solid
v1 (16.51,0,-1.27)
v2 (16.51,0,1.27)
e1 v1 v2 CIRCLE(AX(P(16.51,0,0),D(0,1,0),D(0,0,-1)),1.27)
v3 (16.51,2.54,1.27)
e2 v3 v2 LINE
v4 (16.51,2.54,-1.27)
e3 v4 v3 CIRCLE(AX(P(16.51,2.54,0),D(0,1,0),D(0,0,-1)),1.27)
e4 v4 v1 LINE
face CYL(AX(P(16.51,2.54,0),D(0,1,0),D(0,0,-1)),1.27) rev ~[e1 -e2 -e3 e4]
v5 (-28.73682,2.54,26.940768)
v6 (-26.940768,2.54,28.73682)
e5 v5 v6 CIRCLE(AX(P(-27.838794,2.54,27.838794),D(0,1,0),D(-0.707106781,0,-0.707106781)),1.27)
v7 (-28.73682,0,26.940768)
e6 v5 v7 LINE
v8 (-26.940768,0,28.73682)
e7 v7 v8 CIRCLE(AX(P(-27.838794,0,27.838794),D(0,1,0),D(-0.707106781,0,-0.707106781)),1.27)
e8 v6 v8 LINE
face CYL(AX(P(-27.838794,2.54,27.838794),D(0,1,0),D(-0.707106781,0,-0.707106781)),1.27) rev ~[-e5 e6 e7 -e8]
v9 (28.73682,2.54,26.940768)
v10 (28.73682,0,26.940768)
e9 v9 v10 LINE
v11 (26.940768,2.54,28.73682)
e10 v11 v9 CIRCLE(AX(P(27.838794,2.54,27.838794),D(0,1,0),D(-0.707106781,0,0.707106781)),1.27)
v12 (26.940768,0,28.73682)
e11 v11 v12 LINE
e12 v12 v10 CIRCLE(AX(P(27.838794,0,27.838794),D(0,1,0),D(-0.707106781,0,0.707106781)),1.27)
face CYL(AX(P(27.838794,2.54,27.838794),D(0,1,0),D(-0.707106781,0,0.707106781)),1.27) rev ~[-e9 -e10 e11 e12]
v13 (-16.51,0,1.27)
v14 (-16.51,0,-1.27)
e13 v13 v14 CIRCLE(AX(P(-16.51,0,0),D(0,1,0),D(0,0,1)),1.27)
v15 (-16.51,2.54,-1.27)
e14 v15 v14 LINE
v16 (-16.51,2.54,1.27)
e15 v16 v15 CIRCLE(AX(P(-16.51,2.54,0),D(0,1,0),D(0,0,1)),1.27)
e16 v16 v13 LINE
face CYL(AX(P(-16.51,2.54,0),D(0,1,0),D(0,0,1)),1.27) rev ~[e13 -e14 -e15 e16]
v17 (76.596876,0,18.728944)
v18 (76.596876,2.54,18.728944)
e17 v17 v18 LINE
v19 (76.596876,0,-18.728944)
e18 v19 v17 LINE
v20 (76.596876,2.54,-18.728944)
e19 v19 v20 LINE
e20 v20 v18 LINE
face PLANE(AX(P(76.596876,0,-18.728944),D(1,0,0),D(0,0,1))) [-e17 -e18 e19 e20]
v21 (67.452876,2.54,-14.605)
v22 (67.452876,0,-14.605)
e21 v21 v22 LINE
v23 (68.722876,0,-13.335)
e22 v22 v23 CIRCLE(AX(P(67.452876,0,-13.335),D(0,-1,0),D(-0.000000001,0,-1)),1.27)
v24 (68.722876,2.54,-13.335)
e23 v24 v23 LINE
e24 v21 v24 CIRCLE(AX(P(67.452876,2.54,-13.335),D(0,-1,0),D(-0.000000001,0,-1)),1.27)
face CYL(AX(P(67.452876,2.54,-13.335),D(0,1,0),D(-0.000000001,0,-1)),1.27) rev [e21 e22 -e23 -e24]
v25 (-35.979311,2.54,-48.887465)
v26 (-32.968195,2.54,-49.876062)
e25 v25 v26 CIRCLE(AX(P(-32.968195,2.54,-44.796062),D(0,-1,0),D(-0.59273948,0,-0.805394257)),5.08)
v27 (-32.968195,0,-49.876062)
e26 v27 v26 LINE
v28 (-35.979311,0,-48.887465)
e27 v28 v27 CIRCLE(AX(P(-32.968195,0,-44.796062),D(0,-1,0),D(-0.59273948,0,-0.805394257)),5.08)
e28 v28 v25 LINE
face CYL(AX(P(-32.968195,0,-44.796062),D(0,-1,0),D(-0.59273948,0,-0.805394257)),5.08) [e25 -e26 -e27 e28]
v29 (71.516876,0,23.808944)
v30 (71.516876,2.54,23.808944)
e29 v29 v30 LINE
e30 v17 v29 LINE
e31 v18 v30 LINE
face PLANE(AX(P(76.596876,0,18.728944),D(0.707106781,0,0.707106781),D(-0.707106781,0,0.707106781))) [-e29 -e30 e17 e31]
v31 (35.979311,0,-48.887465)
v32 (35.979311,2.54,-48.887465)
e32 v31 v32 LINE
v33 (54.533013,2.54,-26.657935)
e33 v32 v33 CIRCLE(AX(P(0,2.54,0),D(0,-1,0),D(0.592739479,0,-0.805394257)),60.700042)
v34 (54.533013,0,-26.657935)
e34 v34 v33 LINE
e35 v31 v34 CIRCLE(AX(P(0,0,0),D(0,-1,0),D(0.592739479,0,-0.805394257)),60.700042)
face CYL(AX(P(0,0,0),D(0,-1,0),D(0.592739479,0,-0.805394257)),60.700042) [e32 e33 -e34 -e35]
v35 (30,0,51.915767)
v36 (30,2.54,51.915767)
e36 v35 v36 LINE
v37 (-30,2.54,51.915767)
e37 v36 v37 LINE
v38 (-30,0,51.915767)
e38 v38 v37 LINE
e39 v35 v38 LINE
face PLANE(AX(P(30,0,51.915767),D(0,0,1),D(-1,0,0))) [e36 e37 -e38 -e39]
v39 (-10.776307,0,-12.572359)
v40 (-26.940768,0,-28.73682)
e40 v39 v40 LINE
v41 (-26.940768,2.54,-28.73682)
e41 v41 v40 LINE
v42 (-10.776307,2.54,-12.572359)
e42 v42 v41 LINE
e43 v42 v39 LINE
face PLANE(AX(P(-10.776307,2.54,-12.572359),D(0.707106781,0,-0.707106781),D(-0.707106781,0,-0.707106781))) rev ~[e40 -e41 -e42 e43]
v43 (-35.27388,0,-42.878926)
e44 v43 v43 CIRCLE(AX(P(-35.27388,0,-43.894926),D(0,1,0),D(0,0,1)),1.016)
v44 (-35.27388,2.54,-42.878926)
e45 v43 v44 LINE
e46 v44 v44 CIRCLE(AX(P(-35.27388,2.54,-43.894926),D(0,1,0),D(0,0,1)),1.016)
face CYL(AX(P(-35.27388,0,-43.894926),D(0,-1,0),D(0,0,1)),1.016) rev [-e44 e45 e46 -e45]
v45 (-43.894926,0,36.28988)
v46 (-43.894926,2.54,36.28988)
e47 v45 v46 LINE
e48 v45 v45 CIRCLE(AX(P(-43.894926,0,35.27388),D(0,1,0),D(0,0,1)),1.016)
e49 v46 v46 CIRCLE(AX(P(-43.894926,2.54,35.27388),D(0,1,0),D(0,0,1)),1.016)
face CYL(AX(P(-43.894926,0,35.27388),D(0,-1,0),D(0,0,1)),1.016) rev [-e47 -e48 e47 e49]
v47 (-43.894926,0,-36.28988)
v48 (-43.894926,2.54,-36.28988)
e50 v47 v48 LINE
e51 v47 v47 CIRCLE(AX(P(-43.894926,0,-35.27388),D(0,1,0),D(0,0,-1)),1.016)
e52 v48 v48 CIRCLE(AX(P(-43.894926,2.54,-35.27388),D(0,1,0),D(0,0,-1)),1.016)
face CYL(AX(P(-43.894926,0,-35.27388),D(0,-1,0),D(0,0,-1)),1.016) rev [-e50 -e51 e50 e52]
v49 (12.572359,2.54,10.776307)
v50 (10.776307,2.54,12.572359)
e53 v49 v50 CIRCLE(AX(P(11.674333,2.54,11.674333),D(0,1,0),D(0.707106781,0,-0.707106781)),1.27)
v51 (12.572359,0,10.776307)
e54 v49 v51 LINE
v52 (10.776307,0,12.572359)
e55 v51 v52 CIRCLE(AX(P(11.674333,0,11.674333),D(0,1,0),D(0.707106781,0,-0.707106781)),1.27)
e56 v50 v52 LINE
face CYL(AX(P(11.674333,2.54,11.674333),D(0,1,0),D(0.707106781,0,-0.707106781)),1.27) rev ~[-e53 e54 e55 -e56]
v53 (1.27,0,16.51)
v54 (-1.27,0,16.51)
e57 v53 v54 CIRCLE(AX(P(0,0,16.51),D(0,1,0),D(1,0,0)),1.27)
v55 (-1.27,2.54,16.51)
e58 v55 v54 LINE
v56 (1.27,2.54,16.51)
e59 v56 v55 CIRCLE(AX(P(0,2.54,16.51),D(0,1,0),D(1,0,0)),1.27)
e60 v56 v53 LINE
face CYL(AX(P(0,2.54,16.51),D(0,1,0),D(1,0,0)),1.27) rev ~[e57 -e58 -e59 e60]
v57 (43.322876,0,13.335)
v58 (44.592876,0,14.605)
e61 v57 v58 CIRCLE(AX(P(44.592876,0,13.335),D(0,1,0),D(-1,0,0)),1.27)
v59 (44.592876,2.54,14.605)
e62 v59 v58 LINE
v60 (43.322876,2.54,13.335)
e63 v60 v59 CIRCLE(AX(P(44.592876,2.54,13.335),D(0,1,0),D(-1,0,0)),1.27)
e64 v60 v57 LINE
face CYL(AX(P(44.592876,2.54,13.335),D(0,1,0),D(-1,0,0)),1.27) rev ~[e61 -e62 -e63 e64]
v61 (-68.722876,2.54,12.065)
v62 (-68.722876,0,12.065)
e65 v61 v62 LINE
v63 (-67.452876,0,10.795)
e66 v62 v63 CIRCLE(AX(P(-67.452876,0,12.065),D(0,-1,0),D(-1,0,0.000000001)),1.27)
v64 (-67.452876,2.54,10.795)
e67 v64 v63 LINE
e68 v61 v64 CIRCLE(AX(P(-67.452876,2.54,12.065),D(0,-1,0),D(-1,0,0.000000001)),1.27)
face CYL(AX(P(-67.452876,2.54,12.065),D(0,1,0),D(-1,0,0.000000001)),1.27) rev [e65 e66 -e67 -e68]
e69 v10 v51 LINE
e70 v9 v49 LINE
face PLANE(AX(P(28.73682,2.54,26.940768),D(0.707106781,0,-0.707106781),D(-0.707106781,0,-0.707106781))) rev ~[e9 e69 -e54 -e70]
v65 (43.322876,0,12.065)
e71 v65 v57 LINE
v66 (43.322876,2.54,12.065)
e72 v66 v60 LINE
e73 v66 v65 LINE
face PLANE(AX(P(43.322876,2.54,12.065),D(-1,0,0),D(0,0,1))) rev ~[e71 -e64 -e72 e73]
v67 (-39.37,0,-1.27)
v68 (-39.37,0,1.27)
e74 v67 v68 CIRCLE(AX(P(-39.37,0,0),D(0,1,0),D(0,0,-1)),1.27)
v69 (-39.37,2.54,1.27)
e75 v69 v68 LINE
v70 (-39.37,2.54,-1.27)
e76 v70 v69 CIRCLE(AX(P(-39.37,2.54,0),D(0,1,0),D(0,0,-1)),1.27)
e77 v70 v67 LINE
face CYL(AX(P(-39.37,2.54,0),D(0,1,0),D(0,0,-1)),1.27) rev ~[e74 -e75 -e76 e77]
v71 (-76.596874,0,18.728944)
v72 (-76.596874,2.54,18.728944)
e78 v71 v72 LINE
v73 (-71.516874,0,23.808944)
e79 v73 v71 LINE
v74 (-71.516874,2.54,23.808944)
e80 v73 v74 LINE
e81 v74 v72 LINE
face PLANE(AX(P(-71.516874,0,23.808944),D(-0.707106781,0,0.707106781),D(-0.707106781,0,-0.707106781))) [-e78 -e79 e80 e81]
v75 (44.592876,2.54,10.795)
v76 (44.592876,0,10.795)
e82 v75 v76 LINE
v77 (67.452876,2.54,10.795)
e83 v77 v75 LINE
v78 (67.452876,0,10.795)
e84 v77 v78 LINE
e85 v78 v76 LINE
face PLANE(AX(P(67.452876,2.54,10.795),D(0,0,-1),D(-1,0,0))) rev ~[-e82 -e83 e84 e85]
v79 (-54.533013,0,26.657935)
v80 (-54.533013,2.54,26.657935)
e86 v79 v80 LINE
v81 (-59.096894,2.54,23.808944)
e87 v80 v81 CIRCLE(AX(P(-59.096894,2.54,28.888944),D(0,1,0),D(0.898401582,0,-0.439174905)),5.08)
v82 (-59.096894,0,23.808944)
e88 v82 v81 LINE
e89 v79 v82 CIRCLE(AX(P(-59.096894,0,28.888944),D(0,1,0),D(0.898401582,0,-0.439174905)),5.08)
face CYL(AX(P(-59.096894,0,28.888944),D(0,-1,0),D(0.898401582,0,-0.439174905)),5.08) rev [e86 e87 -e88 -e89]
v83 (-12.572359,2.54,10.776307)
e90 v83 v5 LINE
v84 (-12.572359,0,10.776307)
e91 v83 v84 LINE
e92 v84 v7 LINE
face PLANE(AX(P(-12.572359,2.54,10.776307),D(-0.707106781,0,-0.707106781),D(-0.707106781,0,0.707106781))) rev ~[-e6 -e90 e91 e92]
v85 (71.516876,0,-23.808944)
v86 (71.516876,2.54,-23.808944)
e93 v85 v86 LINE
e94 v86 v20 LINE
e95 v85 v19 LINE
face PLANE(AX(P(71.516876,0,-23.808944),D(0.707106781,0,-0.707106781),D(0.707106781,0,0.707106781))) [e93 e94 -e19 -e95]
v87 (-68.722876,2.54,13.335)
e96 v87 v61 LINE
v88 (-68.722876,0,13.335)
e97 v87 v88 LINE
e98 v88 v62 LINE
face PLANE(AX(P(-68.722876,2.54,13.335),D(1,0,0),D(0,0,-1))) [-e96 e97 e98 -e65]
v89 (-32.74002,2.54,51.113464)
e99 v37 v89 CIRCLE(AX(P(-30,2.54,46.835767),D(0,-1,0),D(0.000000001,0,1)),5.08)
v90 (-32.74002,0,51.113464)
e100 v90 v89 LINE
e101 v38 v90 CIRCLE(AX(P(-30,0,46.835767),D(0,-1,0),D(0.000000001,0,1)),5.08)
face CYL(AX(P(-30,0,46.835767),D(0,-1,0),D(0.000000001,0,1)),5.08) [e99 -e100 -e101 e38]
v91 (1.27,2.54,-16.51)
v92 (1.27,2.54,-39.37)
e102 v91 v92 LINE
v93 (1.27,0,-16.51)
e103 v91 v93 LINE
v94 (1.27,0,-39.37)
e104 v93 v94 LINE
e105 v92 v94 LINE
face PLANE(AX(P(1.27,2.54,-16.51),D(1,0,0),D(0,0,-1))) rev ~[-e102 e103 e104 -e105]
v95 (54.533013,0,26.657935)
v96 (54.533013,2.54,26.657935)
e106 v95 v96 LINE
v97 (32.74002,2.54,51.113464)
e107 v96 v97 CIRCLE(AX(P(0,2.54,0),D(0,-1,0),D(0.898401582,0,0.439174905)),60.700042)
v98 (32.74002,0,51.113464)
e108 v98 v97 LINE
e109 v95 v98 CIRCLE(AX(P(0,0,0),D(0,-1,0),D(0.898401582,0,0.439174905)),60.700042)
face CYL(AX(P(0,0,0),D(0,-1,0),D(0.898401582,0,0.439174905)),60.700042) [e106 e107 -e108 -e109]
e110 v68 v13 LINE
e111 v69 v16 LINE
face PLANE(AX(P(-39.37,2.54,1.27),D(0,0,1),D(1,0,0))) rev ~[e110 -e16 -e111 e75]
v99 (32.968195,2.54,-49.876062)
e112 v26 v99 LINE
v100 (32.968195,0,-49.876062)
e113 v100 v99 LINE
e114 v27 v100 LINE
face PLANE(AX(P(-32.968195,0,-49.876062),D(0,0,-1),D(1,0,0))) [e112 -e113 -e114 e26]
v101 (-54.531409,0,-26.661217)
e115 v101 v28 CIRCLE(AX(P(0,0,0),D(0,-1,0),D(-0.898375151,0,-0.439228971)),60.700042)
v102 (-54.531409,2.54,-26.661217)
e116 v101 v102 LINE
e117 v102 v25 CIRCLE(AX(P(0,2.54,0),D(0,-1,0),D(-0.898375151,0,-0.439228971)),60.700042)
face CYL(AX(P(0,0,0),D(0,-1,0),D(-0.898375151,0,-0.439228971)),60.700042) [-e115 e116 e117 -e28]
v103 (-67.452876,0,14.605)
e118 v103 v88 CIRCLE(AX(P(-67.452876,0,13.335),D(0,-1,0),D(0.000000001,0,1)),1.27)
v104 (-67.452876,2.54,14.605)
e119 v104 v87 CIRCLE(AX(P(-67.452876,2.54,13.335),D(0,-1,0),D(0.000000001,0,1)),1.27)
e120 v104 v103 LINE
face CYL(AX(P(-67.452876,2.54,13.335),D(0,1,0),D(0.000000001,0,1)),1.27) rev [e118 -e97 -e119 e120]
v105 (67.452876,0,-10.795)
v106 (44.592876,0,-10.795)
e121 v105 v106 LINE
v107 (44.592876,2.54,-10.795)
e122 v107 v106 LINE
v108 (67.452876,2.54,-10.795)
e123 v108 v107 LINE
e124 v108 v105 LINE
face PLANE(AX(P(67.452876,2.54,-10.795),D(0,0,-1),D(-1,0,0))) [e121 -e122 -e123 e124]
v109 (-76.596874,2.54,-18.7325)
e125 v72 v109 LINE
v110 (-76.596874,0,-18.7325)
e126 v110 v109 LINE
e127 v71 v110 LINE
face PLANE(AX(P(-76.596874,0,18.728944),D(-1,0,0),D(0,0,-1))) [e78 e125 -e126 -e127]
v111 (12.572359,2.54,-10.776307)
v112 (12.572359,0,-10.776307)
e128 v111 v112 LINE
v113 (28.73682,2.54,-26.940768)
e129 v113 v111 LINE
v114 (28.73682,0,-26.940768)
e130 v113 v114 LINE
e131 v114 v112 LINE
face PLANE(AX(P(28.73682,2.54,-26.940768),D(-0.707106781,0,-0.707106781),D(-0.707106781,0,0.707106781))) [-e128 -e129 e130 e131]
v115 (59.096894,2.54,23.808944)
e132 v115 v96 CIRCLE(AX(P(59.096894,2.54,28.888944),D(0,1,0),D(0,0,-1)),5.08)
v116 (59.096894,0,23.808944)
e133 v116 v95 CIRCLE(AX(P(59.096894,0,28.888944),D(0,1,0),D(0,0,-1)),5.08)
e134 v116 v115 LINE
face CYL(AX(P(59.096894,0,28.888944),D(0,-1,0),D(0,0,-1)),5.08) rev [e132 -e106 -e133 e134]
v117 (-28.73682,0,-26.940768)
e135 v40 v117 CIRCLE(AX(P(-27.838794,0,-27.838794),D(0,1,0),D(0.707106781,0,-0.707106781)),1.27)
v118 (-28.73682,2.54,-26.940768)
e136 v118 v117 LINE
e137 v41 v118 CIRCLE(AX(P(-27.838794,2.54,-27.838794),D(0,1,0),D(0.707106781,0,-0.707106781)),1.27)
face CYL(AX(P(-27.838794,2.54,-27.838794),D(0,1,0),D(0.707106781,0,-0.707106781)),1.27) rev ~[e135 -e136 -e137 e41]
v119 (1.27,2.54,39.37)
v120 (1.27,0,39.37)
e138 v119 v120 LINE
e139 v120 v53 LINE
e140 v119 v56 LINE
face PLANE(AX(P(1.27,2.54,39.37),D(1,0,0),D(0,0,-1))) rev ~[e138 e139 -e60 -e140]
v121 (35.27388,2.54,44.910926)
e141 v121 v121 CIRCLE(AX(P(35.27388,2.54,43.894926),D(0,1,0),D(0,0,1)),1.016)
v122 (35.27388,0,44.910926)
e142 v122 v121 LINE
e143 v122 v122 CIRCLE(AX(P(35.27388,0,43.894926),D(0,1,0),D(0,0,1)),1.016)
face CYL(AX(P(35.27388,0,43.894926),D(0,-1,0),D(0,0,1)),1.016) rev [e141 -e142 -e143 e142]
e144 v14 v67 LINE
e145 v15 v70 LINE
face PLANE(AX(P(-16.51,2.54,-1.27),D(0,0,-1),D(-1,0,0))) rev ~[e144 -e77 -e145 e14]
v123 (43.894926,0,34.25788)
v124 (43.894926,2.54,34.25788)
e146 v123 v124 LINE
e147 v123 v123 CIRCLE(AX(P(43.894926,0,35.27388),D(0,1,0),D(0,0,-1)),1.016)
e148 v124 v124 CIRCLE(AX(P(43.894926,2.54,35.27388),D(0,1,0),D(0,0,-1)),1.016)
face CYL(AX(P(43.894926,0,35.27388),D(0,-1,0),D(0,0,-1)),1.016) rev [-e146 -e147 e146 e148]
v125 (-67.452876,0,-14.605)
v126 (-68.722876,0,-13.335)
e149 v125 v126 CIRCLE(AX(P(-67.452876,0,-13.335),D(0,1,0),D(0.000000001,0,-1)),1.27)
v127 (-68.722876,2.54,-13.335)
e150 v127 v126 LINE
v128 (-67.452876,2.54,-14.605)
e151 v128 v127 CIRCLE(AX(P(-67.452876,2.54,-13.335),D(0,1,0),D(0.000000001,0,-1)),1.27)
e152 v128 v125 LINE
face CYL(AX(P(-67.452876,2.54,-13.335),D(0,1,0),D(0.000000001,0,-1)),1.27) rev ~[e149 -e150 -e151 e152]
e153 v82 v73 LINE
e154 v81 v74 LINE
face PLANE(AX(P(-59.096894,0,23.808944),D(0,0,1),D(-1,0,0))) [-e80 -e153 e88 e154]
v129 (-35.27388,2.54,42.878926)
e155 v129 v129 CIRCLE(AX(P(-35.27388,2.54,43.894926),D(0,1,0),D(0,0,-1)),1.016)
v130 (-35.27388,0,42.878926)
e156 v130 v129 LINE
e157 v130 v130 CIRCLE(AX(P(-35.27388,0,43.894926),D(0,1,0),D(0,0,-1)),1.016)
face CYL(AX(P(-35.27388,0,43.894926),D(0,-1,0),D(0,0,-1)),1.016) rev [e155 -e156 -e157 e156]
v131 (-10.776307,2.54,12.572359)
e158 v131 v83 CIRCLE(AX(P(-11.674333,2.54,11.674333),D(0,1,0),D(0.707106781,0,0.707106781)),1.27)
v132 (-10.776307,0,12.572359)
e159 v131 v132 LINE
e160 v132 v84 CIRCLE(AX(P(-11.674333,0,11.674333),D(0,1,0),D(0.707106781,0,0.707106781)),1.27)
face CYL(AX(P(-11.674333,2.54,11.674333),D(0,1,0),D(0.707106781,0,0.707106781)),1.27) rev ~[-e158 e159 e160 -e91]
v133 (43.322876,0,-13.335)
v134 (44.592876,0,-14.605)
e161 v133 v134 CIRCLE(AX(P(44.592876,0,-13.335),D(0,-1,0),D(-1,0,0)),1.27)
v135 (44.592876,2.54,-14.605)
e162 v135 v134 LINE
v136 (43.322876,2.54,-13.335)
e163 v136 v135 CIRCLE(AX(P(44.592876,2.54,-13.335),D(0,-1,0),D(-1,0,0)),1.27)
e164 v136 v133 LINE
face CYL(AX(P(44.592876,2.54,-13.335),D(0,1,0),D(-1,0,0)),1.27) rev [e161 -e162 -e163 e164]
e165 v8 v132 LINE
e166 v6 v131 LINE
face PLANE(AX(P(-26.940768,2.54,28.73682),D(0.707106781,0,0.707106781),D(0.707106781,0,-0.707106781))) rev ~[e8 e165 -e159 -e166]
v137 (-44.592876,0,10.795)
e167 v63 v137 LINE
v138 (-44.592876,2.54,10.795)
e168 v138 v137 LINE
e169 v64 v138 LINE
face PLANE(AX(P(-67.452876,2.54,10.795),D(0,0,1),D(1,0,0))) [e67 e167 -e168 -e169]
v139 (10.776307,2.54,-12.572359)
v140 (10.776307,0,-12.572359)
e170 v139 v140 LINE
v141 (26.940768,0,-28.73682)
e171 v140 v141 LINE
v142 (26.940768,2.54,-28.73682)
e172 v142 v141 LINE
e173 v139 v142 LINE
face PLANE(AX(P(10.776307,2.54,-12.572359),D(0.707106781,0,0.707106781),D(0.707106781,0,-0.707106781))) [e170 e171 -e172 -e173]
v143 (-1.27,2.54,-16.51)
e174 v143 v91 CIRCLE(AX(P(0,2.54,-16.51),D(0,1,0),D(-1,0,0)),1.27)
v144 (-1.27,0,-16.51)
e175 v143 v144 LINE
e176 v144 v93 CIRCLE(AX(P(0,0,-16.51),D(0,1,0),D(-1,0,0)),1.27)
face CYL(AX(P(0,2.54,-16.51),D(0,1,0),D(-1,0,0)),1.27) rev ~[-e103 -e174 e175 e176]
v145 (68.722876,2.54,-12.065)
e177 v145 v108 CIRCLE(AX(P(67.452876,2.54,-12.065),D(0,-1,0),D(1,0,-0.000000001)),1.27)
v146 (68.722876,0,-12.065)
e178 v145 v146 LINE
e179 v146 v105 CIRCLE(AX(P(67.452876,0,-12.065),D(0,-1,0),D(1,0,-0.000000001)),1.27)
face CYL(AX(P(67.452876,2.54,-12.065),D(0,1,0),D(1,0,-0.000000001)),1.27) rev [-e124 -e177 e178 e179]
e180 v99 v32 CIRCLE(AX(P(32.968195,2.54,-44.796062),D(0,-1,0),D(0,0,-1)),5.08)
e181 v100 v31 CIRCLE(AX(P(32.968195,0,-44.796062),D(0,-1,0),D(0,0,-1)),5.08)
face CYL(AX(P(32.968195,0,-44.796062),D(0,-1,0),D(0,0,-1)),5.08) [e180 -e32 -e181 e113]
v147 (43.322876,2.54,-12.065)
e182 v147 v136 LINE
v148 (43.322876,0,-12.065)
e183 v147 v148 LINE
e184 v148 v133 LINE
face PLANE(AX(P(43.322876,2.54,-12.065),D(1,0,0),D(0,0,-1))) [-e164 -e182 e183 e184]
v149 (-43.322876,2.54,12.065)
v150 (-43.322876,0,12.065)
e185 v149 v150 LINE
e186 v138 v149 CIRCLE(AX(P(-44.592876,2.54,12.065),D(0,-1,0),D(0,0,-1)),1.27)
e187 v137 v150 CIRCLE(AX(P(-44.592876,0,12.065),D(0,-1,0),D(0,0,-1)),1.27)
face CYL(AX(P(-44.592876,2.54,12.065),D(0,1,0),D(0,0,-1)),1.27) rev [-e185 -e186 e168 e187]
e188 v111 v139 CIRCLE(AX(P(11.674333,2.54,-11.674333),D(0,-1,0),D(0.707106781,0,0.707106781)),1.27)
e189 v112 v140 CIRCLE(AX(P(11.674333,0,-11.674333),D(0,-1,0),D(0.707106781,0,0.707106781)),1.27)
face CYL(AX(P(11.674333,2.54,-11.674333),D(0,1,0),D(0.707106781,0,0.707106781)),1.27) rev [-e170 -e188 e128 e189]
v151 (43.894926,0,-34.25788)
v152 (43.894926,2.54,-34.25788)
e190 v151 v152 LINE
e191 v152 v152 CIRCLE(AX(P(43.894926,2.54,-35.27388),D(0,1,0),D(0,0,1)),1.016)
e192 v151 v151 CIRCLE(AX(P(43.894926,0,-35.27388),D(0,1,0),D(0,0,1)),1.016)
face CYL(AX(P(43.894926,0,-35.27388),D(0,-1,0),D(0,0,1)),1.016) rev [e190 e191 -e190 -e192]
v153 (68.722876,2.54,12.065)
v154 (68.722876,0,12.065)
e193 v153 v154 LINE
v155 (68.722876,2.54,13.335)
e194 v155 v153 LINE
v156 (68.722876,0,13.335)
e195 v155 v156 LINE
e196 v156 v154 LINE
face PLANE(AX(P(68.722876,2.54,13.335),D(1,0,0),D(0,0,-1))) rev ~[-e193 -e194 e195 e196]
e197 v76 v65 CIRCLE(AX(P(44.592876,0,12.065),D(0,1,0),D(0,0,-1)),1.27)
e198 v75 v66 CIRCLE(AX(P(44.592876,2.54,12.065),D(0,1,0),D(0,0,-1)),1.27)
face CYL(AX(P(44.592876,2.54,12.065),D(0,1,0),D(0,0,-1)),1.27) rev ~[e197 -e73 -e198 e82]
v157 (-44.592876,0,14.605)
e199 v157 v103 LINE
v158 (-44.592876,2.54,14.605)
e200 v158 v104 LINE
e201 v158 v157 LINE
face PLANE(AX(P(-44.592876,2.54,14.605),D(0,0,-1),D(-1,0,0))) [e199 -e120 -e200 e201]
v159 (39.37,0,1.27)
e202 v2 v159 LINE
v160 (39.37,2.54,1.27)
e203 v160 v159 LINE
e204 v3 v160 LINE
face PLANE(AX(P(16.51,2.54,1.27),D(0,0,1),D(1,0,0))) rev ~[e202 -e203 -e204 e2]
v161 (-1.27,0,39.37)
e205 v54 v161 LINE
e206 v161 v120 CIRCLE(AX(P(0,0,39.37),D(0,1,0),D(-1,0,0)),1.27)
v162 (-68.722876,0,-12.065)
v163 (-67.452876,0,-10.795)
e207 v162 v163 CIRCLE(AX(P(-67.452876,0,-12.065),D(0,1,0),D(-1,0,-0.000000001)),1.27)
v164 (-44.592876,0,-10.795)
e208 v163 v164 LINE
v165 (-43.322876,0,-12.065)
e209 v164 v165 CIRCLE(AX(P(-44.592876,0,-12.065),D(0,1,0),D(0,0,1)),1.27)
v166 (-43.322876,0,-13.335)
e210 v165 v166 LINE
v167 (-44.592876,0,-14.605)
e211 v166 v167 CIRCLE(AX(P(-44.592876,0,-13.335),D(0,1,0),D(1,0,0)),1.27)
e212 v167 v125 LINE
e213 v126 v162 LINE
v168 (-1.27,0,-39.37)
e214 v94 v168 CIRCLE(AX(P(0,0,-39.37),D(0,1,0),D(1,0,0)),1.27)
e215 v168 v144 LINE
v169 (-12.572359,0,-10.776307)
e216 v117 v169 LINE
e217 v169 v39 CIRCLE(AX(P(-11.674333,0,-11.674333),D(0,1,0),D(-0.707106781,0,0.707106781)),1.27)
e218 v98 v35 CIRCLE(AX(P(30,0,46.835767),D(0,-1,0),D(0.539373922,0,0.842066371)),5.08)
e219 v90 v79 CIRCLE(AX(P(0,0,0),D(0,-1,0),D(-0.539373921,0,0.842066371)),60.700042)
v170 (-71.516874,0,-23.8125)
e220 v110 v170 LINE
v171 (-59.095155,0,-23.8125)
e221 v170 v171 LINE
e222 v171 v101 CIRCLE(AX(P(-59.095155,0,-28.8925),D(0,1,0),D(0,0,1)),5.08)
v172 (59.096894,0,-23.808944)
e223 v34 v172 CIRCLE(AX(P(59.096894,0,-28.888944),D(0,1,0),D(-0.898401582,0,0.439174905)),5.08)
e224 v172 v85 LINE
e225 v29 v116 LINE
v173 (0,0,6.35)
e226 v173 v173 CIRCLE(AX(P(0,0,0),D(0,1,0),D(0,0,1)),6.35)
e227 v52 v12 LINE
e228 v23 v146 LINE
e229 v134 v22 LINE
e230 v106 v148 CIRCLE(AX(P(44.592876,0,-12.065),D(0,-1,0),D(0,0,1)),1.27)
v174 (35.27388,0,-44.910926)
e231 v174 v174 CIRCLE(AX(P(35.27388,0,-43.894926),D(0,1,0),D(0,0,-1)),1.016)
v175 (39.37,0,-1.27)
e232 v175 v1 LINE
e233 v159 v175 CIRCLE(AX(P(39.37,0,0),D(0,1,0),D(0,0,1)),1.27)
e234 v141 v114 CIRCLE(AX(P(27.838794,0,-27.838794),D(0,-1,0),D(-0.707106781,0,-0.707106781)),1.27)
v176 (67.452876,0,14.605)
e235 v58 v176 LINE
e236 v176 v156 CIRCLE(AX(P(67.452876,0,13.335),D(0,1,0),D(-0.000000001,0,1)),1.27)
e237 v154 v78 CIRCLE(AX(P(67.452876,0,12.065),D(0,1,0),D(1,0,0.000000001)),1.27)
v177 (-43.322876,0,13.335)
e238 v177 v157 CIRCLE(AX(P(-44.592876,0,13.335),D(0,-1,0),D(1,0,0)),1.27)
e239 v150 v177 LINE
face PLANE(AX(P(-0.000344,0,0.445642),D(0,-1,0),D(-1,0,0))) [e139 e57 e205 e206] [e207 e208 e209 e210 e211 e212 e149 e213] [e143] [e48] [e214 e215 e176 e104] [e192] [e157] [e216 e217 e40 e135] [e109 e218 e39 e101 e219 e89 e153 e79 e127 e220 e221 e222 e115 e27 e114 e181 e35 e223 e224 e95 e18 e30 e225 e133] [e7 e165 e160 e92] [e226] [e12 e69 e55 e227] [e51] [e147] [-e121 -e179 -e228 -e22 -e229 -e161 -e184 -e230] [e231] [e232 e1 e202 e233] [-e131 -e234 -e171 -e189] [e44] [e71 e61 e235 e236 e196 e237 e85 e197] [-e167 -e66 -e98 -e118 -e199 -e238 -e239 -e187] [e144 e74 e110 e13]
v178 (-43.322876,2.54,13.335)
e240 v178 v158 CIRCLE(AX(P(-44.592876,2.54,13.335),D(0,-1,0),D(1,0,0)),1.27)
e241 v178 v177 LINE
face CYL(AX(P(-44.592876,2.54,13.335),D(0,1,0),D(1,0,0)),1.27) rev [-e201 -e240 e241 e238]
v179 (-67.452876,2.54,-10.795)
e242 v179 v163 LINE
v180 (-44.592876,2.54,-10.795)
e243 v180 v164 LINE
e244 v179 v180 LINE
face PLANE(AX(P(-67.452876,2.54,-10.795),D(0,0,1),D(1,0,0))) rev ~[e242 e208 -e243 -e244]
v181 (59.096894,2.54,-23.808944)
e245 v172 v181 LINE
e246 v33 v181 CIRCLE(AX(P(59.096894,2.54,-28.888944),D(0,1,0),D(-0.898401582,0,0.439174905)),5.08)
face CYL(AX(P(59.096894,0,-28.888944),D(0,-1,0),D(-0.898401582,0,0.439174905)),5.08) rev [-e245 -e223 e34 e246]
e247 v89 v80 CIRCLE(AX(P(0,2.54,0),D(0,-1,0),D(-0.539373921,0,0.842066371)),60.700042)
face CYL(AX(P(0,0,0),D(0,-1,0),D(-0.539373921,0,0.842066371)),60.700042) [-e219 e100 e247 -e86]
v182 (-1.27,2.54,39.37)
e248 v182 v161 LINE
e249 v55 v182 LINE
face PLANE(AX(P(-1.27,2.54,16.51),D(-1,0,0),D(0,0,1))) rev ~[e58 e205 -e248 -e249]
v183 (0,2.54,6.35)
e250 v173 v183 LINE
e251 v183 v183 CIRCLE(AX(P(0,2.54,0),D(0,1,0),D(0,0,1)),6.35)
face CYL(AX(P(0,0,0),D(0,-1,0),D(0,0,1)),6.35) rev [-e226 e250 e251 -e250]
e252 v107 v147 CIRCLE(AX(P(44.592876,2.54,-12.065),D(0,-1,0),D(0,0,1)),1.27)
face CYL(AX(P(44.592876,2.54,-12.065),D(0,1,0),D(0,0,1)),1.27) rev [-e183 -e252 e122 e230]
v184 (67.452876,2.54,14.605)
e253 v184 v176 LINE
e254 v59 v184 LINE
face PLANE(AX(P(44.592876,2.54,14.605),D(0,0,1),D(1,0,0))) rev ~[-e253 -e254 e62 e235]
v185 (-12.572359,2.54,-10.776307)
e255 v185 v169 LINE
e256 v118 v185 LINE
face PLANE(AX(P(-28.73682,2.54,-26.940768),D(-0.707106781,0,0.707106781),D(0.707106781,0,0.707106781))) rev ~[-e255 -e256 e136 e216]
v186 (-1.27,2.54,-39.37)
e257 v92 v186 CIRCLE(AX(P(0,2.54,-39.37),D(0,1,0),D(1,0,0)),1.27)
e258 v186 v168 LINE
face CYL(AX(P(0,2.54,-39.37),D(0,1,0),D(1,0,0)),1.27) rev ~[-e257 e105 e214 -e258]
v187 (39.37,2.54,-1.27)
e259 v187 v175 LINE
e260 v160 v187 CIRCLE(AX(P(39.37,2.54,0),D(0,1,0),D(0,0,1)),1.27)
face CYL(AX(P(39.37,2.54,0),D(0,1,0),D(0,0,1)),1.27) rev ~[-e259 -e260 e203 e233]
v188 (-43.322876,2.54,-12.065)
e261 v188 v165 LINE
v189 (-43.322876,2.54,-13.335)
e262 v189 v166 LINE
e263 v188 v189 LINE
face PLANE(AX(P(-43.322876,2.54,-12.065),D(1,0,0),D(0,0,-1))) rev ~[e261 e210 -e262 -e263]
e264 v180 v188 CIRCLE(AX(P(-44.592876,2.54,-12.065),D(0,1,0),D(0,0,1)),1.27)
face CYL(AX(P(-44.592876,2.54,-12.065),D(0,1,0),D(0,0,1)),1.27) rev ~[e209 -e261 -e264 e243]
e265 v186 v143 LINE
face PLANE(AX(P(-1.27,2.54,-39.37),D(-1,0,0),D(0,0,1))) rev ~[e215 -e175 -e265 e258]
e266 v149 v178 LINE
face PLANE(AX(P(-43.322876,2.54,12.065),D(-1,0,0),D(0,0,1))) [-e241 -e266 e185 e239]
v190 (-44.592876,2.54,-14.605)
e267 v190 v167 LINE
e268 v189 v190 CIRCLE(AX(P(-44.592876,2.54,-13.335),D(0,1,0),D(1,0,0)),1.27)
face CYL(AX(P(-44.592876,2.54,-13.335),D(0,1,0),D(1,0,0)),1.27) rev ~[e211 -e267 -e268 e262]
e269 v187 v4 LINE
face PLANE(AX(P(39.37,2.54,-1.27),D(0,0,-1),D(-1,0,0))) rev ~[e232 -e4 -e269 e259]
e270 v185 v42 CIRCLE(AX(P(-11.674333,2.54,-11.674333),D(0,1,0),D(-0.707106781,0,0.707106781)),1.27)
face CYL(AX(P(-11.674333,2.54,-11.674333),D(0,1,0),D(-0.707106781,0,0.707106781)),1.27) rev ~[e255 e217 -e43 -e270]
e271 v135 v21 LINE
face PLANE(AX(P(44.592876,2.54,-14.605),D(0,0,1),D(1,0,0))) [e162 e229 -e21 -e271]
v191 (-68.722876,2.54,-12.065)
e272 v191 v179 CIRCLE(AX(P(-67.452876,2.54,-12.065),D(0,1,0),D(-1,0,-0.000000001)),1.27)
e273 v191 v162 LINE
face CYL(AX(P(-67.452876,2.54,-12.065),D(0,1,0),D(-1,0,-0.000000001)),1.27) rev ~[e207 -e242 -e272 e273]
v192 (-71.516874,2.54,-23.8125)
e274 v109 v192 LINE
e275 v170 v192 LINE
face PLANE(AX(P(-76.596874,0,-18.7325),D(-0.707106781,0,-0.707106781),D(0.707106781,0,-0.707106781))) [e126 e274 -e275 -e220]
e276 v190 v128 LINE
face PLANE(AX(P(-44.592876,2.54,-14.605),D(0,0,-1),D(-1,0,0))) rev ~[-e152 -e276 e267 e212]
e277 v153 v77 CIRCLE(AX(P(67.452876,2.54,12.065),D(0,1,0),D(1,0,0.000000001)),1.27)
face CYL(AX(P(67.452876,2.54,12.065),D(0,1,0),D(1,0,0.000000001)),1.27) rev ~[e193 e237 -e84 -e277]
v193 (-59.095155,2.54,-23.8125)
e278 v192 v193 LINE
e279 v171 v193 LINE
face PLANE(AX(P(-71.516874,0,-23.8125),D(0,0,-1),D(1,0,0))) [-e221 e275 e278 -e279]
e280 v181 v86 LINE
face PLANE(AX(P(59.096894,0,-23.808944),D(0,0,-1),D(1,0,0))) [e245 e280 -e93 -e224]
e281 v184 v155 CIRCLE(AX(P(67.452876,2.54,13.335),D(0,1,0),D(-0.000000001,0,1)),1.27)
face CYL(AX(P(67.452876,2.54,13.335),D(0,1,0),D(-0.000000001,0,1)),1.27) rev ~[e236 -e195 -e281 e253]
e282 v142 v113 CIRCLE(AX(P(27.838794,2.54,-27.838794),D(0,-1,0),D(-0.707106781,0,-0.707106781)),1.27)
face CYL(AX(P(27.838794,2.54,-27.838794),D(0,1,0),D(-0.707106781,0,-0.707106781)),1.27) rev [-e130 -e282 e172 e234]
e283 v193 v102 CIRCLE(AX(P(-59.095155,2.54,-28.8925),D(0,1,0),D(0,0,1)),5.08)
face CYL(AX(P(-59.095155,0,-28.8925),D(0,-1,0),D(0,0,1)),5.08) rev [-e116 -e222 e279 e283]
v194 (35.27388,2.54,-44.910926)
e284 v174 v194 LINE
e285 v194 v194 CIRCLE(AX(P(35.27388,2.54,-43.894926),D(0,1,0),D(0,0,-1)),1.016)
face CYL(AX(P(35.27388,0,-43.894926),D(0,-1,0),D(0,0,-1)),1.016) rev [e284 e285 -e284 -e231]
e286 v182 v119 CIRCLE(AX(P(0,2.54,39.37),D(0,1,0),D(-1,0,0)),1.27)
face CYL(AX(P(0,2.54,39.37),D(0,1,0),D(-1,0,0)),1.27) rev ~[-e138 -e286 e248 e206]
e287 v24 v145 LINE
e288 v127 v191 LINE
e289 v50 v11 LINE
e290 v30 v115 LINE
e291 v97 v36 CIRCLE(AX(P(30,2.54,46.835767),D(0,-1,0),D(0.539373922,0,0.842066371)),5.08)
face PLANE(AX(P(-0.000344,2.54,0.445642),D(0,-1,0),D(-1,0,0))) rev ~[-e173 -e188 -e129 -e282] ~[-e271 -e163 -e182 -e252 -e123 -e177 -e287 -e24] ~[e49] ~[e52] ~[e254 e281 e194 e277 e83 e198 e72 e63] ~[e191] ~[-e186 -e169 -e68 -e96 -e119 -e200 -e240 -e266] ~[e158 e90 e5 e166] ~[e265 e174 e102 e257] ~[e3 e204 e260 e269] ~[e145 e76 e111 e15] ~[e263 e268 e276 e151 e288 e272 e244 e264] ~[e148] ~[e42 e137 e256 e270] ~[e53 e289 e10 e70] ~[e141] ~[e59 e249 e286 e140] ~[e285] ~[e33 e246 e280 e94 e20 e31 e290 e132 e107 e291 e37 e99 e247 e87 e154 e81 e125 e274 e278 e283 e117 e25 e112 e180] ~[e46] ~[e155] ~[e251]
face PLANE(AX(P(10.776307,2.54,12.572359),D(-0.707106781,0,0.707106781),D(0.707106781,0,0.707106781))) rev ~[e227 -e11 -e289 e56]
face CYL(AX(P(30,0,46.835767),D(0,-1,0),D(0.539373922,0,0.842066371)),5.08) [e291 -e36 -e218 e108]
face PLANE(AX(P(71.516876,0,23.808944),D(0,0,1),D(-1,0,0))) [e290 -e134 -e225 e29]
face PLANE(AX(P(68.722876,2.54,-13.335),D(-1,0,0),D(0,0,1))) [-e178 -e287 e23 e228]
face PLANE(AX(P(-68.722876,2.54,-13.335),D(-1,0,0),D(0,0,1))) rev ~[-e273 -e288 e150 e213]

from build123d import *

# Parameters (mm, degrees)
SKETCH1_R           = 6.35
SKETCH1_R_2         = 1.016
SKETCH1_R_3         = 0.080960071
SKETCH1_R_4         = 0.080960069
SKETCH1_R_5         = 0.080960077
BOSS_EXTRUDE1_DEPTH = 2.54
CUT_EXTRUDE1_DEPTH  = 2.54
CUT_EXTRUDE2_DEPTH  = 2.54


with BuildPart() as part:
    # Sketch1 → Boss-Extrude1 (new body)
    with BuildSketch(Plane(origin=(0, 0, 0), x_dir=(1, 0, 0), z_dir=(0, 1, 0))):
        with BuildLine():
            Line((-32.968194559, 49.876062167), (32.968194559, 49.876062167))
            ThreePointArc((32.968194559, 49.876062167), (34.552819694, 49.622589198), (35.979311114, 48.887464993))
            ThreePointArc((35.979311114, 48.887464993), (46.601053925, 38.895203237), (54.533013494, 26.657935048))
            ThreePointArc((54.533013494, 26.657935048), (56.406830639, 24.579655731), (59.096893531, 23.808943565))
            Line((59.096893531, 23.808943565), (71.51687593, 23.808943565))
            Line((71.51687593, 23.808943565), (76.59687593, 18.728943565))
            Line((76.59687593, 18.728943565), (76.59687593, -18.728943565))
            Line((76.59687593, -18.728943565), (71.51687593, -23.808943565))
            Line((71.51687593, -23.808943565), (59.096893531, -23.808943565))
            ThreePointArc((59.096893531, -23.808943565), (56.406830639, -24.579655731), (54.533013494, -26.657935048))
            ThreePointArc((54.533013494, -26.657935048), (45.317367474, -40.383551936), (32.740019521, -51.113463818))
            ThreePointArc((32.740019521, -51.113463818), (31.427532558, -51.711066727), (30, -51.915766654))
            Line((30, -51.915766654), (-30, -51.915766654))
            ThreePointArc((-30, -51.915766654), (-31.427532558, -51.711066727), (-32.740019521, -51.113463818))
            ThreePointArc((-32.740019521, -51.113463818), (-45.317367474, -40.383551936), (-54.533013494, -26.657935048))
            ThreePointArc((-54.533013494, -26.657935048), (-56.406830639, -24.579655731), (-59.096893531, -23.808943565))
            Line((-59.096893531, -23.808943565), (-71.51687407, -23.808943565))
            Line((-71.51687407, -23.808943565), (-76.59687407, -18.728943565))
            Line((-76.59687407, -18.728943565), (-76.59687407, 18.7325))
            Line((-76.59687407, 18.7325), (-71.51687407, 23.8125))
            Line((-71.51687407, 23.8125), (-59.09515487, 23.8125))
            ThreePointArc((-59.09515487, 23.8125), (-56.405221646, 24.583131223), (-54.531409104, 26.661216829))
            ThreePointArc((-54.531409104, 26.661216829), (-46.599883535, 38.896605459), (-35.979311114, 48.887464993))
            ThreePointArc((-35.979311114, 48.887464993), (-34.552819694, 49.622589198), (-32.968194559, 49.876062167))
        make_face()
        with Locations(Location((0, 0, 0), (0, 0, 270))):
            Circle(SKETCH1_R, mode=Mode.SUBTRACT)
        with Locations(Location((43.894926132, 35.273880181, 0), (0, 0, 270))):
            Circle(SKETCH1_R_2, mode=Mode.SUBTRACT)
        with Locations(Location((35.273880264, 43.894926065, 0), (0, 0, 90))):
            Circle(SKETCH1_R_2, mode=Mode.SUBTRACT)
        with Locations(Location((26.694927502, 26.694927451, 0), (0, 0, 270))):
            Circle(SKETCH1_R_3, mode=Mode.SUBTRACT)
        with Locations(Location((26.694927534, -26.694927601, 0), (0, 0, 270))):
            Circle(SKETCH1_R_3, mode=Mode.SUBTRACT)
        with Locations(Location((43.894926149, -35.273880364, 0), (0, 0, 90))):
            Circle(SKETCH1_R_2, mode=Mode.SUBTRACT)
        with Locations(Location((35.273880264, -43.894926232, 0), (0, 0, 270))):
            Circle(SKETCH1_R_2, mode=Mode.SUBTRACT)
        with Locations(Location((-26.694927518, -26.694927634, 0), (0, 0, 270))):
            Circle(SKETCH1_R_4, mode=Mode.SUBTRACT)
        with Locations(Location((-35.27388028, -43.894926248, 0), (0, 0, 90))):
            Circle(SKETCH1_R_2, mode=Mode.SUBTRACT)
        with Locations(Location((-43.894926149, -35.273880364, 0), (0, 0, 270))):
            Circle(SKETCH1_R_2, mode=Mode.SUBTRACT)
        with Locations(Location((-26.694927551, 26.694927419, 0), (0, 0, 270))):
            Circle(SKETCH1_R_5, mode=Mode.SUBTRACT)
        with Locations(Location((-43.894926165, 35.273880181, 0), (0, 0, 90))):
            Circle(SKETCH1_R_2, mode=Mode.SUBTRACT)
        with Locations(Location((-35.27388028, 43.894926049, 0), (0, 0, 270))):
            Circle(SKETCH1_R_2, mode=Mode.SUBTRACT)
    extrude(amount=BOSS_EXTRUDE1_DEPTH)

    # Sketch3 → Cut-Extrude1 (cut)
    with BuildSketch(Plane(origin=(0, 2.54, 0), x_dir=(1, 0, 0), z_dir=(0, 1, 0))):
        with BuildLine():
            Line((10.776307345, 12.572358569), (26.940768363, 28.736819587))
            ThreePointArc((26.940768363, 28.736819587), (28.736819587, 28.736819587), (28.736819587, 26.940768363))
            Line((28.736819587, 26.940768363), (12.572358569, 10.776307345))
            ThreePointArc((12.572358569, 10.776307345), (10.776307345, 10.776307345), (10.776307345, 12.572358569))
        make_face()
        with BuildLine():
            Line((16.51, -1.27), (39.37, -1.27))
            ThreePointArc((39.37, -1.27), (40.64, 0), (39.37, 1.27))
            Line((39.37, 1.27), (16.51, 1.27))
            ThreePointArc((16.51, 1.27), (15.24, 0), (16.51, -1.27))
        make_face()
        with BuildLine():
            Line((10.776307345, -12.572358569), (26.940768363, -28.736819587))
            ThreePointArc((26.940768363, -28.736819587), (28.736819587, -28.736819587), (28.736819587, -26.940768363))
            Line((28.736819587, -26.940768363), (12.572358569, -10.776307345))
            ThreePointArc((12.572358569, -10.776307345), (10.776307345, -10.776307345), (10.776307345, -12.572358569))
        make_face()
        with BuildLine():
            Line((-1.27, -16.51), (-1.27, -39.37))
            ThreePointArc((-1.27, -39.37), (0, -40.64), (1.27, -39.37))
            Line((1.27, -39.37), (1.27, -16.51))
            ThreePointArc((1.27, -16.51), (0, -15.24), (-1.27, -16.51))
        make_face()
        with BuildLine():
            Line((-12.572358569, -10.776307345), (-28.736819587, -26.940768363))
            ThreePointArc((-28.736819587, -26.940768363), (-28.736819587, -28.736819587), (-26.940768363, -28.736819587))
            Line((-26.940768363, -28.736819587), (-10.776307345, -12.572358569))
            ThreePointArc((-10.776307345, -12.572358569), (-10.776307345, -10.776307345), (-12.572358569, -10.776307345))
        make_face()
        with BuildLine():
            Line((-16.51, 1.27), (-39.37, 1.27))
            ThreePointArc((-39.37, 1.27), (-40.64, 0), (-39.37, -1.27))
            Line((-39.37, -1.27), (-16.51, -1.27))
            ThreePointArc((-16.51, -1.27), (-15.24, 0), (-16.51, 1.27))
        make_face()
        with BuildLine():
            Line((-10.776307345, 12.572358569), (-26.940768363, 28.736819587))
            ThreePointArc((-26.940768363, 28.736819587), (-28.736819587, 28.736819587), (-28.736819587, 26.940768363))
            Line((-28.736819587, 26.940768363), (-12.572358569, 10.776307345))
            ThreePointArc((-12.572358569, 10.776307345), (-10.776307345, 10.776307345), (-10.776307345, 12.572358569))
        make_face()
        with BuildLine():
            Line((1.27, 16.51), (1.27, 39.37))
            ThreePointArc((1.27, 39.37), (0, 40.64), (-1.27, 39.37))
            Line((-1.27, 39.37), (-1.27, 16.51))
            ThreePointArc((-1.27, 16.51), (0, 15.24), (1.27, 16.51))
        make_face()
    extrude(amount=-CUT_EXTRUDE1_DEPTH, mode=Mode.SUBTRACT)

    # Sketch4 → Cut-Extrude2 (cut)
    with BuildSketch(Plane(origin=(0, 2.54, 0), x_dir=(1, 0, 0), z_dir=(0, 1, 0))):
        with BuildLine():
            Line((44.59287593, 14.605), (67.45287593, 14.605))
            ThreePointArc((67.45287593, 14.605), (68.350901543, 14.233025612), (68.72287593, 13.335))
            Line((68.72287593, 13.335), (68.72287593, 12.065))
            ThreePointArc((68.72287593, 12.065), (68.350901543, 11.166974388), (67.45287593, 10.795))
            Line((67.45287593, 10.795), (44.59287593, 10.795))
            ThreePointArc((44.59287593, 10.795), (43.694850318, 11.166974388), (43.32287593, 12.065))
            Line((43.32287593, 12.065), (43.32287593, 13.335))
            ThreePointArc((43.32287593, 13.335), (43.694850318, 14.233025612), (44.59287593, 14.605))
        make_face()
        with BuildLine():
            Line((68.72287593, -13.335), (68.72287593, -12.065))
            ThreePointArc((68.72287593, -12.065), (68.350901543, -11.166974388), (67.45287593, -10.795))
            Line((67.45287593, -10.795), (44.59287593, -10.795))
            ThreePointArc((44.59287593, -10.795), (43.694850318, -11.166974388), (43.32287593, -12.065))
            Line((43.32287593, -12.065), (43.32287593, -13.335))
            ThreePointArc((43.32287593, -13.335), (43.694850318, -14.233025612), (44.59287593, -14.605))
            Line((44.59287593, -14.605), (67.45287593, -14.605))
            ThreePointArc((67.45287593, -14.605), (68.350901543, -14.233025612), (68.72287593, -13.335))
        make_face()
        with BuildLine():
            Line((-44.59287593, -14.605), (-67.45287593, -14.605))
            ThreePointArc((-67.45287593, -14.605), (-68.350901543, -14.233025612), (-68.72287593, -13.335))
            Line((-68.72287593, -13.335), (-68.72287593, -12.065))
            ThreePointArc((-68.72287593, -12.065), (-68.350901543, -11.166974388), (-67.45287593, -10.795))
            Line((-67.45287593, -10.795), (-44.59287593, -10.795))
            ThreePointArc((-44.59287593, -10.795), (-43.694850318, -11.166974388), (-43.32287593, -12.065))
            Line((-43.32287593, -12.065), (-43.32287593, -13.335))
            ThreePointArc((-43.32287593, -13.335), (-43.694850318, -14.233025612), (-44.59287593, -14.605))
        make_face()
        with BuildLine():
            Line((-68.72287593, 13.335), (-68.72287593, 12.065))
            ThreePointArc((-68.72287593, 12.065), (-68.350901543, 11.166974388), (-67.45287593, 10.795))
            Line((-67.45287593, 10.795), (-44.59287593, 10.795))
            ThreePointArc((-44.59287593, 10.795), (-43.694850318, 11.166974388), (-43.32287593, 12.065))
            Line((-43.32287593, 12.065), (-43.32287593, 13.335))
            ThreePointArc((-43.32287593, 13.335), (-43.694850318, 14.233025612), (-44.59287593, 14.605))
            Line((-44.59287593, 14.605), (-67.45287593, 14.605))
            ThreePointArc((-67.45287593, 14.605), (-68.350901543, 14.233025612), (-68.72287593, 13.335))
        make_face()
    extrude(amount=-CUT_EXTRUDE2_DEPTH, mode=Mode.SUBTRACT)


solid = part.part
